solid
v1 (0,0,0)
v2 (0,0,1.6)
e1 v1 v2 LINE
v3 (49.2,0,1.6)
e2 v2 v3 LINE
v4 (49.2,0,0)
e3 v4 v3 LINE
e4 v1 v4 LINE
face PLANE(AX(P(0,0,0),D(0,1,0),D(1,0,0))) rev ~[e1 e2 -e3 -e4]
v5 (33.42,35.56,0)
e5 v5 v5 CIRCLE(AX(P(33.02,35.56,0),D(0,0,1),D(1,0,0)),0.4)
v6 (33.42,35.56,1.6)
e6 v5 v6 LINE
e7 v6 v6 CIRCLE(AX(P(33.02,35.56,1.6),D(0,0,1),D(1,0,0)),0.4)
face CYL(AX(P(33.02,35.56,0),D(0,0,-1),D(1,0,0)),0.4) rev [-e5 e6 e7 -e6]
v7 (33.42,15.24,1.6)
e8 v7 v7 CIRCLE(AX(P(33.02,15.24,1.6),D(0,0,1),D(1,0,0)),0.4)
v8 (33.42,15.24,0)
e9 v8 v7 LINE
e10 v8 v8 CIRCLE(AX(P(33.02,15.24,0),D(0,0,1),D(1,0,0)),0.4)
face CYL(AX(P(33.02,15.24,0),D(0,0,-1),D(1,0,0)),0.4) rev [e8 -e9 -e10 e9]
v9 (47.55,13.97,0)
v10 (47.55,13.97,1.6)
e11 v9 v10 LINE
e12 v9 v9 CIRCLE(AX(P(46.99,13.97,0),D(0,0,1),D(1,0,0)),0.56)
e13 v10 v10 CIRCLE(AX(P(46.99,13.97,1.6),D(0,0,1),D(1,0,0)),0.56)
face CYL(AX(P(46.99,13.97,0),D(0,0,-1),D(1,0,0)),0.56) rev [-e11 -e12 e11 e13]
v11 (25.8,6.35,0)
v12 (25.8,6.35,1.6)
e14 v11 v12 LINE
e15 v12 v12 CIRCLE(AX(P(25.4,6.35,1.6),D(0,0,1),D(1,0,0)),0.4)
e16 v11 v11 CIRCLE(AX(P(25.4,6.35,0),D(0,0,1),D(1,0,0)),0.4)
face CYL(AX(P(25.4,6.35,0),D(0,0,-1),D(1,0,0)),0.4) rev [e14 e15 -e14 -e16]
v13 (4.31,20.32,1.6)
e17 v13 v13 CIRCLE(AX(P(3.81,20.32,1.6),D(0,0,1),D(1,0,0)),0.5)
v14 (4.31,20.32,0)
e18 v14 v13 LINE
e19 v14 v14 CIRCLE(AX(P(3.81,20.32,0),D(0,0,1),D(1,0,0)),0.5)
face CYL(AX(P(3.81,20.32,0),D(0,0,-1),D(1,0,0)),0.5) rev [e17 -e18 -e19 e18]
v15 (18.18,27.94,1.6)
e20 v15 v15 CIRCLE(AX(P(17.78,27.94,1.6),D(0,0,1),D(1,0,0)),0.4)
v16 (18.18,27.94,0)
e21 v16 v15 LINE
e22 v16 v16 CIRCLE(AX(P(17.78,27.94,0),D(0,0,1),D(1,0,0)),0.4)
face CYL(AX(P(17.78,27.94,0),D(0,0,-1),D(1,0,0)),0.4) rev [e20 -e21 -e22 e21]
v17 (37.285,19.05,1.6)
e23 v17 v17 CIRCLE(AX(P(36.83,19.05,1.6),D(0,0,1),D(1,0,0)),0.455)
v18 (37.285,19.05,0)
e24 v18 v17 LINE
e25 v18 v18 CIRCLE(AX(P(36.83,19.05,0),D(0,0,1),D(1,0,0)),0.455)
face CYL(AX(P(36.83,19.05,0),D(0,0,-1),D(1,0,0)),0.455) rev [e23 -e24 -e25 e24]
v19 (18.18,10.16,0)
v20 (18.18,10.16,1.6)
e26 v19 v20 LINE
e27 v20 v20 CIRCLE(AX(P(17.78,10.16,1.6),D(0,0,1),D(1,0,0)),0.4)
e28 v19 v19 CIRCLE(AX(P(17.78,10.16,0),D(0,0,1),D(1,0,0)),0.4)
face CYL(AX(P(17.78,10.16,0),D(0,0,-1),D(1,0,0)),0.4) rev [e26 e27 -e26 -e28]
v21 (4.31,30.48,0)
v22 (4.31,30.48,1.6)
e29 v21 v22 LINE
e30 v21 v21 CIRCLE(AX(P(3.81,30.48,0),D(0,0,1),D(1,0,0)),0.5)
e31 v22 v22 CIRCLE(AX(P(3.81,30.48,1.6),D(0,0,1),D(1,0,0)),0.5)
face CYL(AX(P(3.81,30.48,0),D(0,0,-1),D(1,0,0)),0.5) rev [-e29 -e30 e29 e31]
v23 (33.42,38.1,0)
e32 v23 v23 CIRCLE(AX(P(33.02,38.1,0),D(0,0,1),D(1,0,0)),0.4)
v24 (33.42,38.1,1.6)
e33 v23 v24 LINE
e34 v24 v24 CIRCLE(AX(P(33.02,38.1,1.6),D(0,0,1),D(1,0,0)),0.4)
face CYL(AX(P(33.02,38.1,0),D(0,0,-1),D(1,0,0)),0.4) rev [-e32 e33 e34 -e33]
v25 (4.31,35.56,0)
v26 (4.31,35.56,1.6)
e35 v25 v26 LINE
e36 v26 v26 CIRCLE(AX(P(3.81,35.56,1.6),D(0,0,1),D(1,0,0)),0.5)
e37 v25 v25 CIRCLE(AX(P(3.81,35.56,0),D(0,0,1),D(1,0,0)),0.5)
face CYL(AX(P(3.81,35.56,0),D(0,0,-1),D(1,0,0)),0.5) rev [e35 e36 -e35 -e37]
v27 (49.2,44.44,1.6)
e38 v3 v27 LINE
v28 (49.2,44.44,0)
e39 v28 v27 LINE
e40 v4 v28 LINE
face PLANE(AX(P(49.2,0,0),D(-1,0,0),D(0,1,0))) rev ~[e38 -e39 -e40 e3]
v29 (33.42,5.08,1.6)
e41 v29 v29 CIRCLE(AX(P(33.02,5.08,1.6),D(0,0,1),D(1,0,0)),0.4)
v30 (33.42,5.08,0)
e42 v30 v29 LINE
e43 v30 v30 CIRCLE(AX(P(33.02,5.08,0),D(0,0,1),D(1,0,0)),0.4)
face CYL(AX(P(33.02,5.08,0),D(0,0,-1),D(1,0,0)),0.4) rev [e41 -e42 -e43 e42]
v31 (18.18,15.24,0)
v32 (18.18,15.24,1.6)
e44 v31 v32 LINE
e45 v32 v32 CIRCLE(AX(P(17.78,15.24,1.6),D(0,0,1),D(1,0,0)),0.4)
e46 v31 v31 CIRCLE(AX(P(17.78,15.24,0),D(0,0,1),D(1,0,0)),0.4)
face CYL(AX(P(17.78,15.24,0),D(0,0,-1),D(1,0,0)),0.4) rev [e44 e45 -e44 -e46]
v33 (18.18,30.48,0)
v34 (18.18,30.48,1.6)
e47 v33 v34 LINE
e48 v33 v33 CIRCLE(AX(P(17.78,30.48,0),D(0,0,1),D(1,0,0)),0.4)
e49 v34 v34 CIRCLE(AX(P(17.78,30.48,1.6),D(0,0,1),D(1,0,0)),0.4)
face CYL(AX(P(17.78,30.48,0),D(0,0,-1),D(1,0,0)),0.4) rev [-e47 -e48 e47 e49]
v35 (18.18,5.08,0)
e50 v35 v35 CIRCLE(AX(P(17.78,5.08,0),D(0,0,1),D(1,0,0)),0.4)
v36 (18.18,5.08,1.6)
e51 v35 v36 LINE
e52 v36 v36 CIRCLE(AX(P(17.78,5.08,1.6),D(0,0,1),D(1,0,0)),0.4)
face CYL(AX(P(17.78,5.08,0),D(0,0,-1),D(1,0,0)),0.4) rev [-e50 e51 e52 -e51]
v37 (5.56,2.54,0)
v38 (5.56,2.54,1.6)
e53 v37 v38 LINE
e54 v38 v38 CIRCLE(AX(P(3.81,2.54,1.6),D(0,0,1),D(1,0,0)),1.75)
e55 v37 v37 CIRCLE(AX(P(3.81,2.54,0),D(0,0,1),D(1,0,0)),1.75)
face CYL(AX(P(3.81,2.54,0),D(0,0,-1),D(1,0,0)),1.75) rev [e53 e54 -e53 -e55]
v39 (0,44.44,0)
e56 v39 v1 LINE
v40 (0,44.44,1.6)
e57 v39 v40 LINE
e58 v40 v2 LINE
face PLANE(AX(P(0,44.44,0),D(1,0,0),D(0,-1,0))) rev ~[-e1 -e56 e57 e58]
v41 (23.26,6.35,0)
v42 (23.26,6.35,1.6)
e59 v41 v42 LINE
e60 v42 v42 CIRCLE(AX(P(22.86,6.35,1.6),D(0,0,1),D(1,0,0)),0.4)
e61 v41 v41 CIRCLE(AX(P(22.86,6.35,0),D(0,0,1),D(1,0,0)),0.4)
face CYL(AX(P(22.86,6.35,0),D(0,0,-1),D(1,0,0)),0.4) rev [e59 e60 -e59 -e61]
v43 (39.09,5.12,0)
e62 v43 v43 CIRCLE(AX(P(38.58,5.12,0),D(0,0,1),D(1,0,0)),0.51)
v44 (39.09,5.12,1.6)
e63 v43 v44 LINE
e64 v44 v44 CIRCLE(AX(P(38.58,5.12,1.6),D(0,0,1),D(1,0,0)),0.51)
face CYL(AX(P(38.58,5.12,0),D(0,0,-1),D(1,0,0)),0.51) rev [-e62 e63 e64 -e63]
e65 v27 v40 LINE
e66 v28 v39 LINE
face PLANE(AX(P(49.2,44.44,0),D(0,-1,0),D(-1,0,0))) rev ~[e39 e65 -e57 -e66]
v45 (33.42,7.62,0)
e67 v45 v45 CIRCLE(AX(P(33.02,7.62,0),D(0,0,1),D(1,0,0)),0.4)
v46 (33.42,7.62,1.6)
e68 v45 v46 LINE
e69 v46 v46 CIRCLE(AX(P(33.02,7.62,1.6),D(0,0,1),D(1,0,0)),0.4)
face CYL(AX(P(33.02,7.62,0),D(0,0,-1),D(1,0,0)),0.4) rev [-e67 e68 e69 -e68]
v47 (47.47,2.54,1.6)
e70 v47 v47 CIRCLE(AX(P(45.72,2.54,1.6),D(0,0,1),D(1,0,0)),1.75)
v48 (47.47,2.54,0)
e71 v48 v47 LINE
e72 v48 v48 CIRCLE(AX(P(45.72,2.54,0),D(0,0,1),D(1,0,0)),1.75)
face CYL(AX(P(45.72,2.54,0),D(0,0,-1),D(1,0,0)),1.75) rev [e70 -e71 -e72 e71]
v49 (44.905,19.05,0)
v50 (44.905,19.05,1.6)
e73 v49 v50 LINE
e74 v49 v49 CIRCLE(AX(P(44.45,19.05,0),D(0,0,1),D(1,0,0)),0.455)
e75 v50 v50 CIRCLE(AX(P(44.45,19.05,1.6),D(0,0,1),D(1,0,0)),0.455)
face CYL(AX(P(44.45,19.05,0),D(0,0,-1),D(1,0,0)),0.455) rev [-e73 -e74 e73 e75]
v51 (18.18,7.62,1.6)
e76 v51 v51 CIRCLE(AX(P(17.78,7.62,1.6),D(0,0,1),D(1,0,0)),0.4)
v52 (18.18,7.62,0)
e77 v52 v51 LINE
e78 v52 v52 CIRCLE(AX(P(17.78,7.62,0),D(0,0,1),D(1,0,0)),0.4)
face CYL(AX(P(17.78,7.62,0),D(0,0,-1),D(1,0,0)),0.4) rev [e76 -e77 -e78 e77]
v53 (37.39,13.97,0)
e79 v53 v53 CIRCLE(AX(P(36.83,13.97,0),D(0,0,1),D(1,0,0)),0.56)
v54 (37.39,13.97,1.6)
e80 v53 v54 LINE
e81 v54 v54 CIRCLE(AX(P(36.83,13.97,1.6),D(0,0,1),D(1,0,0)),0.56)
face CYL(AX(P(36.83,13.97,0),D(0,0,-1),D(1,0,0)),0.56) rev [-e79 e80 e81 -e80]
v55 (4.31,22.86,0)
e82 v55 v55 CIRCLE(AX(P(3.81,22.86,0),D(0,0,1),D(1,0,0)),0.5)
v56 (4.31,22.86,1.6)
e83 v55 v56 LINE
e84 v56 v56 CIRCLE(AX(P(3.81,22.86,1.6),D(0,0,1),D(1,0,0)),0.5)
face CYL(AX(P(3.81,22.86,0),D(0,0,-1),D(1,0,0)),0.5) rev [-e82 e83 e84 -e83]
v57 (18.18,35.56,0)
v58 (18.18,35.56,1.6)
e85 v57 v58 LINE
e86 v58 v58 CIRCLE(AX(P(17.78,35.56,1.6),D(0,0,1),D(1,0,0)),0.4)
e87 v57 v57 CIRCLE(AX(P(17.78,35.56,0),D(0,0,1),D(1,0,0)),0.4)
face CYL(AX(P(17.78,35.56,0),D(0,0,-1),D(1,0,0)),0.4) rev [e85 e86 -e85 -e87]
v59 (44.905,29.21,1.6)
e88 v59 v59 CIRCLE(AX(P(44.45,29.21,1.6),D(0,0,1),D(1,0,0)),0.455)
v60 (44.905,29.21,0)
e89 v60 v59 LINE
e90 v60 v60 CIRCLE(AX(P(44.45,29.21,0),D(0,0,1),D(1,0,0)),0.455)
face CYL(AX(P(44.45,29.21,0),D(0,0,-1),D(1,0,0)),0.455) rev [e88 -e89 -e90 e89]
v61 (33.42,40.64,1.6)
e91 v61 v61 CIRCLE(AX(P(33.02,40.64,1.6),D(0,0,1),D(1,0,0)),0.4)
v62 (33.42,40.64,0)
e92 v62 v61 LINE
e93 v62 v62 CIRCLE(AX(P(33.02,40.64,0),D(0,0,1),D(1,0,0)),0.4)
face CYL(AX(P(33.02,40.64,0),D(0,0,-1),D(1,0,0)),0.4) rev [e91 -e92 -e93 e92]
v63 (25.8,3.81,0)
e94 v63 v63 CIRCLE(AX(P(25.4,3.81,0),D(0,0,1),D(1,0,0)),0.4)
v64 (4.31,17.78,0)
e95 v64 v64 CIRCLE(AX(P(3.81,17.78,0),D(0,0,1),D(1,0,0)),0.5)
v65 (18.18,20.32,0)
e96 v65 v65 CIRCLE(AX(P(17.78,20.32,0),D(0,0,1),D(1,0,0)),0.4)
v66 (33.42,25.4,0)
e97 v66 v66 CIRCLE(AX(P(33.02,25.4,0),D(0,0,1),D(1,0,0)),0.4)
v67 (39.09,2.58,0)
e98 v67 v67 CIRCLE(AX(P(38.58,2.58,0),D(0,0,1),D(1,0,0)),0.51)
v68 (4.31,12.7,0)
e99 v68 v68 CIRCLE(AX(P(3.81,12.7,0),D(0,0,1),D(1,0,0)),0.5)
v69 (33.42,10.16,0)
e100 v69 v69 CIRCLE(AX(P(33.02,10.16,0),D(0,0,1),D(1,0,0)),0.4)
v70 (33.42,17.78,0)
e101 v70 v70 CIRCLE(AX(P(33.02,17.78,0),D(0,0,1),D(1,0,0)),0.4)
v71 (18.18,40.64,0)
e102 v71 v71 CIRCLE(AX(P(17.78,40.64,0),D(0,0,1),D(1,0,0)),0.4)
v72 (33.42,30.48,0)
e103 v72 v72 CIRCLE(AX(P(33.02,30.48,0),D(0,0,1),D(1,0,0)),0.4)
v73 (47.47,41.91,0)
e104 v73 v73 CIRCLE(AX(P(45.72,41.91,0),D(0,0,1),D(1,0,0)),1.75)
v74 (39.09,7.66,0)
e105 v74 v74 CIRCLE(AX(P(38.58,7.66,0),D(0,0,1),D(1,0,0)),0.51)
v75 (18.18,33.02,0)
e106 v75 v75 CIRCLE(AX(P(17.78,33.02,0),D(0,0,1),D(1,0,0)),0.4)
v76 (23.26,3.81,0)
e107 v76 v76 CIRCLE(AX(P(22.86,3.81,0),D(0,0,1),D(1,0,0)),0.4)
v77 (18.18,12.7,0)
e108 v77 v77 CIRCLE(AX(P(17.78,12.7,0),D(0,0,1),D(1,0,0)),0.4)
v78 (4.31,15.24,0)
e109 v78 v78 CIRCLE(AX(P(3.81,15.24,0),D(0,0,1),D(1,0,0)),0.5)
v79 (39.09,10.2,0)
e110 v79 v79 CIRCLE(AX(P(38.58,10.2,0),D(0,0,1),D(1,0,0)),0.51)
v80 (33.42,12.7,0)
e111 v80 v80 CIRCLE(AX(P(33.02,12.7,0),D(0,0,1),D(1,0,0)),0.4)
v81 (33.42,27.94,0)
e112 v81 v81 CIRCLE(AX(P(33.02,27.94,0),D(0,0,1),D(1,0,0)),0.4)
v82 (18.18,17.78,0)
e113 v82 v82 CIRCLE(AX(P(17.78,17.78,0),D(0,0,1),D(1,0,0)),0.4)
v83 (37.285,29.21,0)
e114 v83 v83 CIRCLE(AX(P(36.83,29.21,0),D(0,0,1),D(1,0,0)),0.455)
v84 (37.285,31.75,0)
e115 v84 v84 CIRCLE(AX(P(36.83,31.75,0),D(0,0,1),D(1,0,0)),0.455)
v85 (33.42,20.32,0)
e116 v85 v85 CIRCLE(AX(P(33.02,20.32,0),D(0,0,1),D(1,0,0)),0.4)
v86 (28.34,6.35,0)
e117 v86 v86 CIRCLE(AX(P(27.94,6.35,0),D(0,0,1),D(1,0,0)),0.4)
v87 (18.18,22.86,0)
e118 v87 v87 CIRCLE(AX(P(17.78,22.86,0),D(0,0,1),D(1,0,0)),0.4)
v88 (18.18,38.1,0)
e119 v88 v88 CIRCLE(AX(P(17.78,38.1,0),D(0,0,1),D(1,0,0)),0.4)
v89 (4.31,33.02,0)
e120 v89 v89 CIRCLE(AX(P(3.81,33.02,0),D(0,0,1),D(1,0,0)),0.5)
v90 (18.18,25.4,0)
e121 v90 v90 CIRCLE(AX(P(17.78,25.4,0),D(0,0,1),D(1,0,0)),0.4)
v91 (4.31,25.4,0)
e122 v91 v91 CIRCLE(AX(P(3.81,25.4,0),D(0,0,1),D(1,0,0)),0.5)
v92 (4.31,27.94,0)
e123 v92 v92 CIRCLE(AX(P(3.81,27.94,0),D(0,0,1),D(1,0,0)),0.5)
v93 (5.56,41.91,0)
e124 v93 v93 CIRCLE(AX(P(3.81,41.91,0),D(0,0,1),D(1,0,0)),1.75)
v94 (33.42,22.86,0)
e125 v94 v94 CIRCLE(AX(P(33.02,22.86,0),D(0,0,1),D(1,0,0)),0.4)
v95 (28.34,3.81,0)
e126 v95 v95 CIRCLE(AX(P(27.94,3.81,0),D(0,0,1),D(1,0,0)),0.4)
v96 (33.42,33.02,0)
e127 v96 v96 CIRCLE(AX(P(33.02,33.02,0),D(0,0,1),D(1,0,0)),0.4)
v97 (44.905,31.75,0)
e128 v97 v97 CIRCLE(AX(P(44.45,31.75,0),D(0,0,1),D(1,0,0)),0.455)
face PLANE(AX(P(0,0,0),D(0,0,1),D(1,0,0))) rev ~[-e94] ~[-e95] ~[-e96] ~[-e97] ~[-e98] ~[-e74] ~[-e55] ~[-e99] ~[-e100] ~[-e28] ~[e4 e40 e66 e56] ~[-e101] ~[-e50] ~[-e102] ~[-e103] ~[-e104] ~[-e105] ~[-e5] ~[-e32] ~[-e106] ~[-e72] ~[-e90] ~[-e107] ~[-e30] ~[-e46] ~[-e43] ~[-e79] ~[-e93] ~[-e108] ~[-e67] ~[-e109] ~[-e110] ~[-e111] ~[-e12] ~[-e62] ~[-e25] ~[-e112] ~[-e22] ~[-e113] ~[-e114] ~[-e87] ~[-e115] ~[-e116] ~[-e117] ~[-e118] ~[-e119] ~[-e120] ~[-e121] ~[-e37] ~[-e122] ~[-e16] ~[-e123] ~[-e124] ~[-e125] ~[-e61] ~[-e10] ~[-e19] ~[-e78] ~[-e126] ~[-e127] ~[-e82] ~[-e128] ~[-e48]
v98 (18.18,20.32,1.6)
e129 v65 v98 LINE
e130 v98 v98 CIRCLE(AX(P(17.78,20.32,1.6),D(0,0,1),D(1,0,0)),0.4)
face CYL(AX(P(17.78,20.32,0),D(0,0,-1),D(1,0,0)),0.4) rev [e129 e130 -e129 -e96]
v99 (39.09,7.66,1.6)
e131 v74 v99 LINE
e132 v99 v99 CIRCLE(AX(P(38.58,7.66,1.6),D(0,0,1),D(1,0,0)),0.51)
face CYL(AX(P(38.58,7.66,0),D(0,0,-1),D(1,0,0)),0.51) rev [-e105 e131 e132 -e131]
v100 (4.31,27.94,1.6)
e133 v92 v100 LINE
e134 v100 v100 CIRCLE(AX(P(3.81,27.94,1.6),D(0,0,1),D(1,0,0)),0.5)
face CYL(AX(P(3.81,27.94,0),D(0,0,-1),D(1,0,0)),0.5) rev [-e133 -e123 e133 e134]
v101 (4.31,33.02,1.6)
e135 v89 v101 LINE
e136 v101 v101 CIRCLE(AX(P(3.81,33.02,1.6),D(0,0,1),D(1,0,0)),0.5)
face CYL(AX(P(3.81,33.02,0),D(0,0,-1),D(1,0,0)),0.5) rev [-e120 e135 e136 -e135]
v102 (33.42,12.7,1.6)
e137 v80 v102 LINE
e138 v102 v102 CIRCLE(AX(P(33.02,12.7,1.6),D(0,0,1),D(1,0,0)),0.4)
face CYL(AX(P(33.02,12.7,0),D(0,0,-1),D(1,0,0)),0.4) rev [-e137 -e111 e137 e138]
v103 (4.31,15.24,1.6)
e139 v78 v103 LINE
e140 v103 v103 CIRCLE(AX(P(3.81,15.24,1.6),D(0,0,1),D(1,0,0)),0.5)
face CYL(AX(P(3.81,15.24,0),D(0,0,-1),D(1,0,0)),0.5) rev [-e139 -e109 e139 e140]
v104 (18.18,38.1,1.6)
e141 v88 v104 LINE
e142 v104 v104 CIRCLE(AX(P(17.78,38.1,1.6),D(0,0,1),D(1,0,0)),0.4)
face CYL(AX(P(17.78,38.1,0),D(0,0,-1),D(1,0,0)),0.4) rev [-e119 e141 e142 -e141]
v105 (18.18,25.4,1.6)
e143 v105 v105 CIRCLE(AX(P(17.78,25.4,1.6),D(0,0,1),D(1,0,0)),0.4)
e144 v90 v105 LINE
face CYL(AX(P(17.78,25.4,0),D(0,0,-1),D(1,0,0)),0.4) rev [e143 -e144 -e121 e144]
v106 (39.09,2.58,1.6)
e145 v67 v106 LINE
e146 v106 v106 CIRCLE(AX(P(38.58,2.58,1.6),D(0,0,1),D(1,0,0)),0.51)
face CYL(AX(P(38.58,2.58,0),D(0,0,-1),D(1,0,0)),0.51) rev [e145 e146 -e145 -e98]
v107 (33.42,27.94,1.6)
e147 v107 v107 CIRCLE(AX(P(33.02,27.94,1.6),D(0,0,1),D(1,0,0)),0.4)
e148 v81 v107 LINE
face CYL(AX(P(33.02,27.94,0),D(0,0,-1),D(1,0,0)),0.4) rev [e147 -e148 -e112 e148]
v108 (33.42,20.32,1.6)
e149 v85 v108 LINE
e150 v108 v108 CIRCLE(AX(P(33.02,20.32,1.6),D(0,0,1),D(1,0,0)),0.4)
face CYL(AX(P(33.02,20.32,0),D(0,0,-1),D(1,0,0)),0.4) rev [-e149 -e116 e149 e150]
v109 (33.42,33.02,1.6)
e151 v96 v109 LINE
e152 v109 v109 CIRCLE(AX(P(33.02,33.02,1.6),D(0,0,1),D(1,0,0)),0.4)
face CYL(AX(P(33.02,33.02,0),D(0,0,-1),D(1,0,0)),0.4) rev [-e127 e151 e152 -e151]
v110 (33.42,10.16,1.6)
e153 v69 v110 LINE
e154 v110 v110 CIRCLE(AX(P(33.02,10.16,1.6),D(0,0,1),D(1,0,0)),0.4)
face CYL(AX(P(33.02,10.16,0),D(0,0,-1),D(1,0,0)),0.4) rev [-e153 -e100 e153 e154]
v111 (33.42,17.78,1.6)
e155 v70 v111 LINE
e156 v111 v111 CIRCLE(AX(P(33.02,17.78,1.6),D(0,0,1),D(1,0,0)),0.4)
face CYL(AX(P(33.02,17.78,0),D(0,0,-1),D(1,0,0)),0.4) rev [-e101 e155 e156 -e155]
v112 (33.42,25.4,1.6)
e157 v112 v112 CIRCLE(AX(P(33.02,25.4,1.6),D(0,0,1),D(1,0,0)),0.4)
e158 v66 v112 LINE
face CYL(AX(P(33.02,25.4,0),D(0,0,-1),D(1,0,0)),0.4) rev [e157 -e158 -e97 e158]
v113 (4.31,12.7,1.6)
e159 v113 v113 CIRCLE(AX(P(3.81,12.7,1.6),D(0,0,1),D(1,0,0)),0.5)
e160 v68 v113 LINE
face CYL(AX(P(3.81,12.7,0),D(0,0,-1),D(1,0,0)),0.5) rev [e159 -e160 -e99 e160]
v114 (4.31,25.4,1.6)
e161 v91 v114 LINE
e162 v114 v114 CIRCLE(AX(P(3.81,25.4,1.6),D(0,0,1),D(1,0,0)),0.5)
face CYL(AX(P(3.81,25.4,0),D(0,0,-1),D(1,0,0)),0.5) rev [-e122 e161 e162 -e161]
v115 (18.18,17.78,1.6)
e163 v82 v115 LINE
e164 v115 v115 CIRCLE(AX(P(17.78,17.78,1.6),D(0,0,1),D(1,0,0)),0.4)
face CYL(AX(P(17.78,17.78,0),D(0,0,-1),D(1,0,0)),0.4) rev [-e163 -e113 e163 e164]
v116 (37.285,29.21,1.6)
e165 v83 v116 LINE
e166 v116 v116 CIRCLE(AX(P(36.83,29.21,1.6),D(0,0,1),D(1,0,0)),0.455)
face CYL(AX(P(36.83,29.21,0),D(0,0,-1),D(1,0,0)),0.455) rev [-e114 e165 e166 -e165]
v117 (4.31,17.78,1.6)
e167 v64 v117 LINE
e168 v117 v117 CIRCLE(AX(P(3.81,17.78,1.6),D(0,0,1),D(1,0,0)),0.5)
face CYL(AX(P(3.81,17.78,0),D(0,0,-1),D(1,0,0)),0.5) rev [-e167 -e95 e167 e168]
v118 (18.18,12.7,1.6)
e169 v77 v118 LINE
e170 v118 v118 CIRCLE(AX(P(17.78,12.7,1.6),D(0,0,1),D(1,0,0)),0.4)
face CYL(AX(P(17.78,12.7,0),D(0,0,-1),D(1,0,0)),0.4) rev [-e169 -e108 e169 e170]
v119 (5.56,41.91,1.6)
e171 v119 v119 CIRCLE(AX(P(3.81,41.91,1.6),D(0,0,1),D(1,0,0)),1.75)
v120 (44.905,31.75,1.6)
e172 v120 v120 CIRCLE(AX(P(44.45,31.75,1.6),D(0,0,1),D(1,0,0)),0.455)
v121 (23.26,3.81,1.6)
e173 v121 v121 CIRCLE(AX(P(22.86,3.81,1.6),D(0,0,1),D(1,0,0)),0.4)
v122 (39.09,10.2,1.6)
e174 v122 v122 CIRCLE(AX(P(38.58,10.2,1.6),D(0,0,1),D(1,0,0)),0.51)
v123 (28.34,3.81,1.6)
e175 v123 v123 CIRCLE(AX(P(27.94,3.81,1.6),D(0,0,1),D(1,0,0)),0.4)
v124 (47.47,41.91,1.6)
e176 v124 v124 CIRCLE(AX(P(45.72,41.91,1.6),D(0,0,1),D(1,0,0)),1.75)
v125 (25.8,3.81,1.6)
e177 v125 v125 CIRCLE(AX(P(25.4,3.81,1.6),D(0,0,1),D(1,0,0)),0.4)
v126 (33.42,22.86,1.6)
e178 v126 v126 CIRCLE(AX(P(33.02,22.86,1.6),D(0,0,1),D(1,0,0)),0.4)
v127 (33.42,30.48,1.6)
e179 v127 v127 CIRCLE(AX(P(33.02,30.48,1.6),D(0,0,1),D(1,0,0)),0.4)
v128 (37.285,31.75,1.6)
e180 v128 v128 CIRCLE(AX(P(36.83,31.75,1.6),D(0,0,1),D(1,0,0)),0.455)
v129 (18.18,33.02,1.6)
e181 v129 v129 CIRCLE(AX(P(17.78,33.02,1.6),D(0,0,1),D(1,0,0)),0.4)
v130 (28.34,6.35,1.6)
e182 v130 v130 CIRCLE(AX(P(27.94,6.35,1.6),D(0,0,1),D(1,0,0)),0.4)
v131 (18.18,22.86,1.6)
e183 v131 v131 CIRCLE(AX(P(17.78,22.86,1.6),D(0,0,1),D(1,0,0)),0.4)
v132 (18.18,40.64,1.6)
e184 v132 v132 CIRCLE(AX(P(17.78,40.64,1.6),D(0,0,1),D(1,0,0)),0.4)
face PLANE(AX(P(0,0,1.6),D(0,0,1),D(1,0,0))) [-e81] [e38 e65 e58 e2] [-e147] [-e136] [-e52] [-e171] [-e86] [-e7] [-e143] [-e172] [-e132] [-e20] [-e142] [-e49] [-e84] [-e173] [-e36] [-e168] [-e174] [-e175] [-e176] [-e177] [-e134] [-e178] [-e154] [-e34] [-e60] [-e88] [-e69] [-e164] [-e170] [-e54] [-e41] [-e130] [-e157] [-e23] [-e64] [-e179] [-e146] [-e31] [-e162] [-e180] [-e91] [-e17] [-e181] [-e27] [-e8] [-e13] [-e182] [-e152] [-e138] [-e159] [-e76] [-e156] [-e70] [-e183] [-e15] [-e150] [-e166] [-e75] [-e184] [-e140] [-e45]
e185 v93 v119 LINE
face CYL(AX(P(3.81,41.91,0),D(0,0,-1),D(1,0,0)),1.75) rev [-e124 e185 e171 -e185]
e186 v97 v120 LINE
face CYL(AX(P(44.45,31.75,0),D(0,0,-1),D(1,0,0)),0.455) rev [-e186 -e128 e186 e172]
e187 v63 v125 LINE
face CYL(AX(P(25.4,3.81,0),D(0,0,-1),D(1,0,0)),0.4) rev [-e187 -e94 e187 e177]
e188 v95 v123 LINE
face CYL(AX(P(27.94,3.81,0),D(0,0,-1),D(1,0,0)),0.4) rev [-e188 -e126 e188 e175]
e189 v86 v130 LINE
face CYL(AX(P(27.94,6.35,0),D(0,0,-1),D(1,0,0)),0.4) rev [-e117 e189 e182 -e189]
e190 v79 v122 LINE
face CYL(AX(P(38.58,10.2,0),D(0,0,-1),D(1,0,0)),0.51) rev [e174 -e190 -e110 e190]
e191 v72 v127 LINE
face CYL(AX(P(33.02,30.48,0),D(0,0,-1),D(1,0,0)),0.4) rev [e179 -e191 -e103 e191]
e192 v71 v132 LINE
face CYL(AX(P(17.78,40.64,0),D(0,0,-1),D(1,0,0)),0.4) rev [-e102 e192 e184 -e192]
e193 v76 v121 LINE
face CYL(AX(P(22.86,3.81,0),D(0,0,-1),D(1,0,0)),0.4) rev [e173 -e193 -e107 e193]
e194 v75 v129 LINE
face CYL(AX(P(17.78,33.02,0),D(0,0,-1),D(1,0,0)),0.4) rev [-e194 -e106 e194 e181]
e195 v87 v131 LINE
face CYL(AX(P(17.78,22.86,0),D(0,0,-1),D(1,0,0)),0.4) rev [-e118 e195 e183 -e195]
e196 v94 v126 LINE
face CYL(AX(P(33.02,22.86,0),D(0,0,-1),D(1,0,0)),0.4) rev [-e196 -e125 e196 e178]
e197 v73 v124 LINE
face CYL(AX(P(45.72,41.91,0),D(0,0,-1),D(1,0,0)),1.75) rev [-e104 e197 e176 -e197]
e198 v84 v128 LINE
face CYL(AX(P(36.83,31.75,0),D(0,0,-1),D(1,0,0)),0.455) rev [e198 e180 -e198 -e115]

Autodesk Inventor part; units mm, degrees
ref_plane "YZ Plane" through (0, 0, 0) normal (1, 0, 0) x (0, 1, 0)
ref_plane "XZ Plane" through (0, 0, 0) normal (0, 1, 0) x (-1, 0, 0)
ref_plane "XY Plane" through (0, 0, 0) normal (0, 0, 1) x (1, 0, 0)
sketch "Эскиз1" plane through (0, 0, 0) normal (0, 0, 1) x (1, 0, 0)
  line L0 (0, 0) -> (49.2, 0)
  line L1 (49.2, 0) -> (49.2, 44.44)
  line L2 (49.2, 44.44) -> (0, 44.44)
  line L3 (0, 44.44) -> (0, 0)
  circle A0 centre (36.83, 13.97) radius 0.56
  circle A1 centre (46.99, 13.97) radius 0.56
  circle A2 centre (3.81, 12.7) radius 0.5
  circle A3 centre (3.81, 15.24) radius 0.5
  circle A4 centre (3.81, 17.78) radius 0.5
  circle A5 centre (3.81, 20.32) radius 0.5
  circle A6 centre (3.81, 22.86) radius 0.5
  circle A7 centre (3.81, 25.4) radius 0.5
  circle A8 centre (3.81, 27.94) radius 0.5
  circle A9 centre (3.81, 30.48) radius 0.5
  circle A10 centre (3.81, 33.02) radius 0.5
  circle A11 centre (3.81, 35.56) radius 0.5
  circle A12 centre (38.58, 10.2) radius 0.51
  circle A13 centre (38.58, 7.66) radius 0.51
  circle A14 centre (38.58, 5.12) radius 0.51
  circle A15 centre (38.58, 2.58) radius 0.51
  circle A16 centre (44.45, 29.21) radius 0.455
  circle A17 centre (36.83, 29.21) radius 0.455
  circle A18 centre (36.83, 31.75) radius 0.455
  circle A19 centre (44.45, 19.05) radius 0.455
  circle A20 centre (36.83, 19.05) radius 0.455
  circle A21 centre (44.45, 31.75) radius 0.455
  circle A22 centre (17.78, 38.1) radius 0.4
  circle A23 centre (17.78, 12.7) radius 0.4
  circle A24 centre (17.78, 33.02) radius 0.4
  circle A25 centre (17.78, 30.48) radius 0.4
  circle A26 centre (17.78, 27.94) radius 0.4
  circle A27 centre (17.78, 25.4) radius 0.4
  circle A28 centre (17.78, 22.86) radius 0.4
  circle A29 centre (17.78, 20.32) radius 0.4
  circle A30 centre (17.78, 17.78) radius 0.4
  circle A31 centre (17.78, 15.24) radius 0.4
  circle A32 centre (17.78, 35.56) radius 0.4
  circle A33 centre (33.02, 15.24) radius 0.4
  circle A34 centre (33.02, 17.78) radius 0.4
  circle A35 centre (33.02, 20.32) radius 0.4
  circle A36 centre (33.02, 22.86) radius 0.4
  circle A37 centre (33.02, 25.4) radius 0.4
  circle A38 centre (33.02, 27.94) radius 0.4
  circle A39 centre (33.02, 30.48) radius 0.4
  circle A40 centre (33.02, 33.02) radius 0.4
  circle A41 centre (33.02, 35.56) radius 0.4
  circle A42 centre (33.02, 38.1) radius 0.4
  circle A43 centre (33.02, 40.64) radius 0.4
  circle A44 centre (17.78, 40.64) radius 0.4
  circle A45 centre (17.78, 7.62) radius 0.4
  circle A46 centre (33.02, 12.7) radius 0.4
  circle A47 centre (22.86, 3.81) radius 0.4
  circle A48 centre (22.86, 6.35) radius 0.4
  circle A49 centre (25.4, 3.81) radius 0.4
  circle A50 centre (25.4, 6.35) radius 0.4
  circle A51 centre (27.94, 3.81) radius 0.4
  circle A52 centre (27.94, 6.35) radius 0.4
  circle A53 centre (17.78, 5.08) radius 0.4
  circle A54 centre (17.78, 10.16) radius 0.4
  circle A55 centre (33.02, 10.16) radius 0.4
  circle A56 centre (33.02, 7.62) radius 0.4
  circle A57 centre (33.02, 5.08) radius 0.4
  circle A58 centre (3.81, 41.91) radius 1.75
  circle A59 centre (3.81, 2.54) radius 1.75
  circle A60 centre (45.72, 2.54) radius 1.75
  circle A61 centre (45.72, 41.91) radius 1.75
extrude "BATTERIES_CONTROLLER.brdКонтур" add sketch "Эскиз1" along normal blind 1.6
properties part number "BATTERIES_CONTROLLER.brdКонтур"
